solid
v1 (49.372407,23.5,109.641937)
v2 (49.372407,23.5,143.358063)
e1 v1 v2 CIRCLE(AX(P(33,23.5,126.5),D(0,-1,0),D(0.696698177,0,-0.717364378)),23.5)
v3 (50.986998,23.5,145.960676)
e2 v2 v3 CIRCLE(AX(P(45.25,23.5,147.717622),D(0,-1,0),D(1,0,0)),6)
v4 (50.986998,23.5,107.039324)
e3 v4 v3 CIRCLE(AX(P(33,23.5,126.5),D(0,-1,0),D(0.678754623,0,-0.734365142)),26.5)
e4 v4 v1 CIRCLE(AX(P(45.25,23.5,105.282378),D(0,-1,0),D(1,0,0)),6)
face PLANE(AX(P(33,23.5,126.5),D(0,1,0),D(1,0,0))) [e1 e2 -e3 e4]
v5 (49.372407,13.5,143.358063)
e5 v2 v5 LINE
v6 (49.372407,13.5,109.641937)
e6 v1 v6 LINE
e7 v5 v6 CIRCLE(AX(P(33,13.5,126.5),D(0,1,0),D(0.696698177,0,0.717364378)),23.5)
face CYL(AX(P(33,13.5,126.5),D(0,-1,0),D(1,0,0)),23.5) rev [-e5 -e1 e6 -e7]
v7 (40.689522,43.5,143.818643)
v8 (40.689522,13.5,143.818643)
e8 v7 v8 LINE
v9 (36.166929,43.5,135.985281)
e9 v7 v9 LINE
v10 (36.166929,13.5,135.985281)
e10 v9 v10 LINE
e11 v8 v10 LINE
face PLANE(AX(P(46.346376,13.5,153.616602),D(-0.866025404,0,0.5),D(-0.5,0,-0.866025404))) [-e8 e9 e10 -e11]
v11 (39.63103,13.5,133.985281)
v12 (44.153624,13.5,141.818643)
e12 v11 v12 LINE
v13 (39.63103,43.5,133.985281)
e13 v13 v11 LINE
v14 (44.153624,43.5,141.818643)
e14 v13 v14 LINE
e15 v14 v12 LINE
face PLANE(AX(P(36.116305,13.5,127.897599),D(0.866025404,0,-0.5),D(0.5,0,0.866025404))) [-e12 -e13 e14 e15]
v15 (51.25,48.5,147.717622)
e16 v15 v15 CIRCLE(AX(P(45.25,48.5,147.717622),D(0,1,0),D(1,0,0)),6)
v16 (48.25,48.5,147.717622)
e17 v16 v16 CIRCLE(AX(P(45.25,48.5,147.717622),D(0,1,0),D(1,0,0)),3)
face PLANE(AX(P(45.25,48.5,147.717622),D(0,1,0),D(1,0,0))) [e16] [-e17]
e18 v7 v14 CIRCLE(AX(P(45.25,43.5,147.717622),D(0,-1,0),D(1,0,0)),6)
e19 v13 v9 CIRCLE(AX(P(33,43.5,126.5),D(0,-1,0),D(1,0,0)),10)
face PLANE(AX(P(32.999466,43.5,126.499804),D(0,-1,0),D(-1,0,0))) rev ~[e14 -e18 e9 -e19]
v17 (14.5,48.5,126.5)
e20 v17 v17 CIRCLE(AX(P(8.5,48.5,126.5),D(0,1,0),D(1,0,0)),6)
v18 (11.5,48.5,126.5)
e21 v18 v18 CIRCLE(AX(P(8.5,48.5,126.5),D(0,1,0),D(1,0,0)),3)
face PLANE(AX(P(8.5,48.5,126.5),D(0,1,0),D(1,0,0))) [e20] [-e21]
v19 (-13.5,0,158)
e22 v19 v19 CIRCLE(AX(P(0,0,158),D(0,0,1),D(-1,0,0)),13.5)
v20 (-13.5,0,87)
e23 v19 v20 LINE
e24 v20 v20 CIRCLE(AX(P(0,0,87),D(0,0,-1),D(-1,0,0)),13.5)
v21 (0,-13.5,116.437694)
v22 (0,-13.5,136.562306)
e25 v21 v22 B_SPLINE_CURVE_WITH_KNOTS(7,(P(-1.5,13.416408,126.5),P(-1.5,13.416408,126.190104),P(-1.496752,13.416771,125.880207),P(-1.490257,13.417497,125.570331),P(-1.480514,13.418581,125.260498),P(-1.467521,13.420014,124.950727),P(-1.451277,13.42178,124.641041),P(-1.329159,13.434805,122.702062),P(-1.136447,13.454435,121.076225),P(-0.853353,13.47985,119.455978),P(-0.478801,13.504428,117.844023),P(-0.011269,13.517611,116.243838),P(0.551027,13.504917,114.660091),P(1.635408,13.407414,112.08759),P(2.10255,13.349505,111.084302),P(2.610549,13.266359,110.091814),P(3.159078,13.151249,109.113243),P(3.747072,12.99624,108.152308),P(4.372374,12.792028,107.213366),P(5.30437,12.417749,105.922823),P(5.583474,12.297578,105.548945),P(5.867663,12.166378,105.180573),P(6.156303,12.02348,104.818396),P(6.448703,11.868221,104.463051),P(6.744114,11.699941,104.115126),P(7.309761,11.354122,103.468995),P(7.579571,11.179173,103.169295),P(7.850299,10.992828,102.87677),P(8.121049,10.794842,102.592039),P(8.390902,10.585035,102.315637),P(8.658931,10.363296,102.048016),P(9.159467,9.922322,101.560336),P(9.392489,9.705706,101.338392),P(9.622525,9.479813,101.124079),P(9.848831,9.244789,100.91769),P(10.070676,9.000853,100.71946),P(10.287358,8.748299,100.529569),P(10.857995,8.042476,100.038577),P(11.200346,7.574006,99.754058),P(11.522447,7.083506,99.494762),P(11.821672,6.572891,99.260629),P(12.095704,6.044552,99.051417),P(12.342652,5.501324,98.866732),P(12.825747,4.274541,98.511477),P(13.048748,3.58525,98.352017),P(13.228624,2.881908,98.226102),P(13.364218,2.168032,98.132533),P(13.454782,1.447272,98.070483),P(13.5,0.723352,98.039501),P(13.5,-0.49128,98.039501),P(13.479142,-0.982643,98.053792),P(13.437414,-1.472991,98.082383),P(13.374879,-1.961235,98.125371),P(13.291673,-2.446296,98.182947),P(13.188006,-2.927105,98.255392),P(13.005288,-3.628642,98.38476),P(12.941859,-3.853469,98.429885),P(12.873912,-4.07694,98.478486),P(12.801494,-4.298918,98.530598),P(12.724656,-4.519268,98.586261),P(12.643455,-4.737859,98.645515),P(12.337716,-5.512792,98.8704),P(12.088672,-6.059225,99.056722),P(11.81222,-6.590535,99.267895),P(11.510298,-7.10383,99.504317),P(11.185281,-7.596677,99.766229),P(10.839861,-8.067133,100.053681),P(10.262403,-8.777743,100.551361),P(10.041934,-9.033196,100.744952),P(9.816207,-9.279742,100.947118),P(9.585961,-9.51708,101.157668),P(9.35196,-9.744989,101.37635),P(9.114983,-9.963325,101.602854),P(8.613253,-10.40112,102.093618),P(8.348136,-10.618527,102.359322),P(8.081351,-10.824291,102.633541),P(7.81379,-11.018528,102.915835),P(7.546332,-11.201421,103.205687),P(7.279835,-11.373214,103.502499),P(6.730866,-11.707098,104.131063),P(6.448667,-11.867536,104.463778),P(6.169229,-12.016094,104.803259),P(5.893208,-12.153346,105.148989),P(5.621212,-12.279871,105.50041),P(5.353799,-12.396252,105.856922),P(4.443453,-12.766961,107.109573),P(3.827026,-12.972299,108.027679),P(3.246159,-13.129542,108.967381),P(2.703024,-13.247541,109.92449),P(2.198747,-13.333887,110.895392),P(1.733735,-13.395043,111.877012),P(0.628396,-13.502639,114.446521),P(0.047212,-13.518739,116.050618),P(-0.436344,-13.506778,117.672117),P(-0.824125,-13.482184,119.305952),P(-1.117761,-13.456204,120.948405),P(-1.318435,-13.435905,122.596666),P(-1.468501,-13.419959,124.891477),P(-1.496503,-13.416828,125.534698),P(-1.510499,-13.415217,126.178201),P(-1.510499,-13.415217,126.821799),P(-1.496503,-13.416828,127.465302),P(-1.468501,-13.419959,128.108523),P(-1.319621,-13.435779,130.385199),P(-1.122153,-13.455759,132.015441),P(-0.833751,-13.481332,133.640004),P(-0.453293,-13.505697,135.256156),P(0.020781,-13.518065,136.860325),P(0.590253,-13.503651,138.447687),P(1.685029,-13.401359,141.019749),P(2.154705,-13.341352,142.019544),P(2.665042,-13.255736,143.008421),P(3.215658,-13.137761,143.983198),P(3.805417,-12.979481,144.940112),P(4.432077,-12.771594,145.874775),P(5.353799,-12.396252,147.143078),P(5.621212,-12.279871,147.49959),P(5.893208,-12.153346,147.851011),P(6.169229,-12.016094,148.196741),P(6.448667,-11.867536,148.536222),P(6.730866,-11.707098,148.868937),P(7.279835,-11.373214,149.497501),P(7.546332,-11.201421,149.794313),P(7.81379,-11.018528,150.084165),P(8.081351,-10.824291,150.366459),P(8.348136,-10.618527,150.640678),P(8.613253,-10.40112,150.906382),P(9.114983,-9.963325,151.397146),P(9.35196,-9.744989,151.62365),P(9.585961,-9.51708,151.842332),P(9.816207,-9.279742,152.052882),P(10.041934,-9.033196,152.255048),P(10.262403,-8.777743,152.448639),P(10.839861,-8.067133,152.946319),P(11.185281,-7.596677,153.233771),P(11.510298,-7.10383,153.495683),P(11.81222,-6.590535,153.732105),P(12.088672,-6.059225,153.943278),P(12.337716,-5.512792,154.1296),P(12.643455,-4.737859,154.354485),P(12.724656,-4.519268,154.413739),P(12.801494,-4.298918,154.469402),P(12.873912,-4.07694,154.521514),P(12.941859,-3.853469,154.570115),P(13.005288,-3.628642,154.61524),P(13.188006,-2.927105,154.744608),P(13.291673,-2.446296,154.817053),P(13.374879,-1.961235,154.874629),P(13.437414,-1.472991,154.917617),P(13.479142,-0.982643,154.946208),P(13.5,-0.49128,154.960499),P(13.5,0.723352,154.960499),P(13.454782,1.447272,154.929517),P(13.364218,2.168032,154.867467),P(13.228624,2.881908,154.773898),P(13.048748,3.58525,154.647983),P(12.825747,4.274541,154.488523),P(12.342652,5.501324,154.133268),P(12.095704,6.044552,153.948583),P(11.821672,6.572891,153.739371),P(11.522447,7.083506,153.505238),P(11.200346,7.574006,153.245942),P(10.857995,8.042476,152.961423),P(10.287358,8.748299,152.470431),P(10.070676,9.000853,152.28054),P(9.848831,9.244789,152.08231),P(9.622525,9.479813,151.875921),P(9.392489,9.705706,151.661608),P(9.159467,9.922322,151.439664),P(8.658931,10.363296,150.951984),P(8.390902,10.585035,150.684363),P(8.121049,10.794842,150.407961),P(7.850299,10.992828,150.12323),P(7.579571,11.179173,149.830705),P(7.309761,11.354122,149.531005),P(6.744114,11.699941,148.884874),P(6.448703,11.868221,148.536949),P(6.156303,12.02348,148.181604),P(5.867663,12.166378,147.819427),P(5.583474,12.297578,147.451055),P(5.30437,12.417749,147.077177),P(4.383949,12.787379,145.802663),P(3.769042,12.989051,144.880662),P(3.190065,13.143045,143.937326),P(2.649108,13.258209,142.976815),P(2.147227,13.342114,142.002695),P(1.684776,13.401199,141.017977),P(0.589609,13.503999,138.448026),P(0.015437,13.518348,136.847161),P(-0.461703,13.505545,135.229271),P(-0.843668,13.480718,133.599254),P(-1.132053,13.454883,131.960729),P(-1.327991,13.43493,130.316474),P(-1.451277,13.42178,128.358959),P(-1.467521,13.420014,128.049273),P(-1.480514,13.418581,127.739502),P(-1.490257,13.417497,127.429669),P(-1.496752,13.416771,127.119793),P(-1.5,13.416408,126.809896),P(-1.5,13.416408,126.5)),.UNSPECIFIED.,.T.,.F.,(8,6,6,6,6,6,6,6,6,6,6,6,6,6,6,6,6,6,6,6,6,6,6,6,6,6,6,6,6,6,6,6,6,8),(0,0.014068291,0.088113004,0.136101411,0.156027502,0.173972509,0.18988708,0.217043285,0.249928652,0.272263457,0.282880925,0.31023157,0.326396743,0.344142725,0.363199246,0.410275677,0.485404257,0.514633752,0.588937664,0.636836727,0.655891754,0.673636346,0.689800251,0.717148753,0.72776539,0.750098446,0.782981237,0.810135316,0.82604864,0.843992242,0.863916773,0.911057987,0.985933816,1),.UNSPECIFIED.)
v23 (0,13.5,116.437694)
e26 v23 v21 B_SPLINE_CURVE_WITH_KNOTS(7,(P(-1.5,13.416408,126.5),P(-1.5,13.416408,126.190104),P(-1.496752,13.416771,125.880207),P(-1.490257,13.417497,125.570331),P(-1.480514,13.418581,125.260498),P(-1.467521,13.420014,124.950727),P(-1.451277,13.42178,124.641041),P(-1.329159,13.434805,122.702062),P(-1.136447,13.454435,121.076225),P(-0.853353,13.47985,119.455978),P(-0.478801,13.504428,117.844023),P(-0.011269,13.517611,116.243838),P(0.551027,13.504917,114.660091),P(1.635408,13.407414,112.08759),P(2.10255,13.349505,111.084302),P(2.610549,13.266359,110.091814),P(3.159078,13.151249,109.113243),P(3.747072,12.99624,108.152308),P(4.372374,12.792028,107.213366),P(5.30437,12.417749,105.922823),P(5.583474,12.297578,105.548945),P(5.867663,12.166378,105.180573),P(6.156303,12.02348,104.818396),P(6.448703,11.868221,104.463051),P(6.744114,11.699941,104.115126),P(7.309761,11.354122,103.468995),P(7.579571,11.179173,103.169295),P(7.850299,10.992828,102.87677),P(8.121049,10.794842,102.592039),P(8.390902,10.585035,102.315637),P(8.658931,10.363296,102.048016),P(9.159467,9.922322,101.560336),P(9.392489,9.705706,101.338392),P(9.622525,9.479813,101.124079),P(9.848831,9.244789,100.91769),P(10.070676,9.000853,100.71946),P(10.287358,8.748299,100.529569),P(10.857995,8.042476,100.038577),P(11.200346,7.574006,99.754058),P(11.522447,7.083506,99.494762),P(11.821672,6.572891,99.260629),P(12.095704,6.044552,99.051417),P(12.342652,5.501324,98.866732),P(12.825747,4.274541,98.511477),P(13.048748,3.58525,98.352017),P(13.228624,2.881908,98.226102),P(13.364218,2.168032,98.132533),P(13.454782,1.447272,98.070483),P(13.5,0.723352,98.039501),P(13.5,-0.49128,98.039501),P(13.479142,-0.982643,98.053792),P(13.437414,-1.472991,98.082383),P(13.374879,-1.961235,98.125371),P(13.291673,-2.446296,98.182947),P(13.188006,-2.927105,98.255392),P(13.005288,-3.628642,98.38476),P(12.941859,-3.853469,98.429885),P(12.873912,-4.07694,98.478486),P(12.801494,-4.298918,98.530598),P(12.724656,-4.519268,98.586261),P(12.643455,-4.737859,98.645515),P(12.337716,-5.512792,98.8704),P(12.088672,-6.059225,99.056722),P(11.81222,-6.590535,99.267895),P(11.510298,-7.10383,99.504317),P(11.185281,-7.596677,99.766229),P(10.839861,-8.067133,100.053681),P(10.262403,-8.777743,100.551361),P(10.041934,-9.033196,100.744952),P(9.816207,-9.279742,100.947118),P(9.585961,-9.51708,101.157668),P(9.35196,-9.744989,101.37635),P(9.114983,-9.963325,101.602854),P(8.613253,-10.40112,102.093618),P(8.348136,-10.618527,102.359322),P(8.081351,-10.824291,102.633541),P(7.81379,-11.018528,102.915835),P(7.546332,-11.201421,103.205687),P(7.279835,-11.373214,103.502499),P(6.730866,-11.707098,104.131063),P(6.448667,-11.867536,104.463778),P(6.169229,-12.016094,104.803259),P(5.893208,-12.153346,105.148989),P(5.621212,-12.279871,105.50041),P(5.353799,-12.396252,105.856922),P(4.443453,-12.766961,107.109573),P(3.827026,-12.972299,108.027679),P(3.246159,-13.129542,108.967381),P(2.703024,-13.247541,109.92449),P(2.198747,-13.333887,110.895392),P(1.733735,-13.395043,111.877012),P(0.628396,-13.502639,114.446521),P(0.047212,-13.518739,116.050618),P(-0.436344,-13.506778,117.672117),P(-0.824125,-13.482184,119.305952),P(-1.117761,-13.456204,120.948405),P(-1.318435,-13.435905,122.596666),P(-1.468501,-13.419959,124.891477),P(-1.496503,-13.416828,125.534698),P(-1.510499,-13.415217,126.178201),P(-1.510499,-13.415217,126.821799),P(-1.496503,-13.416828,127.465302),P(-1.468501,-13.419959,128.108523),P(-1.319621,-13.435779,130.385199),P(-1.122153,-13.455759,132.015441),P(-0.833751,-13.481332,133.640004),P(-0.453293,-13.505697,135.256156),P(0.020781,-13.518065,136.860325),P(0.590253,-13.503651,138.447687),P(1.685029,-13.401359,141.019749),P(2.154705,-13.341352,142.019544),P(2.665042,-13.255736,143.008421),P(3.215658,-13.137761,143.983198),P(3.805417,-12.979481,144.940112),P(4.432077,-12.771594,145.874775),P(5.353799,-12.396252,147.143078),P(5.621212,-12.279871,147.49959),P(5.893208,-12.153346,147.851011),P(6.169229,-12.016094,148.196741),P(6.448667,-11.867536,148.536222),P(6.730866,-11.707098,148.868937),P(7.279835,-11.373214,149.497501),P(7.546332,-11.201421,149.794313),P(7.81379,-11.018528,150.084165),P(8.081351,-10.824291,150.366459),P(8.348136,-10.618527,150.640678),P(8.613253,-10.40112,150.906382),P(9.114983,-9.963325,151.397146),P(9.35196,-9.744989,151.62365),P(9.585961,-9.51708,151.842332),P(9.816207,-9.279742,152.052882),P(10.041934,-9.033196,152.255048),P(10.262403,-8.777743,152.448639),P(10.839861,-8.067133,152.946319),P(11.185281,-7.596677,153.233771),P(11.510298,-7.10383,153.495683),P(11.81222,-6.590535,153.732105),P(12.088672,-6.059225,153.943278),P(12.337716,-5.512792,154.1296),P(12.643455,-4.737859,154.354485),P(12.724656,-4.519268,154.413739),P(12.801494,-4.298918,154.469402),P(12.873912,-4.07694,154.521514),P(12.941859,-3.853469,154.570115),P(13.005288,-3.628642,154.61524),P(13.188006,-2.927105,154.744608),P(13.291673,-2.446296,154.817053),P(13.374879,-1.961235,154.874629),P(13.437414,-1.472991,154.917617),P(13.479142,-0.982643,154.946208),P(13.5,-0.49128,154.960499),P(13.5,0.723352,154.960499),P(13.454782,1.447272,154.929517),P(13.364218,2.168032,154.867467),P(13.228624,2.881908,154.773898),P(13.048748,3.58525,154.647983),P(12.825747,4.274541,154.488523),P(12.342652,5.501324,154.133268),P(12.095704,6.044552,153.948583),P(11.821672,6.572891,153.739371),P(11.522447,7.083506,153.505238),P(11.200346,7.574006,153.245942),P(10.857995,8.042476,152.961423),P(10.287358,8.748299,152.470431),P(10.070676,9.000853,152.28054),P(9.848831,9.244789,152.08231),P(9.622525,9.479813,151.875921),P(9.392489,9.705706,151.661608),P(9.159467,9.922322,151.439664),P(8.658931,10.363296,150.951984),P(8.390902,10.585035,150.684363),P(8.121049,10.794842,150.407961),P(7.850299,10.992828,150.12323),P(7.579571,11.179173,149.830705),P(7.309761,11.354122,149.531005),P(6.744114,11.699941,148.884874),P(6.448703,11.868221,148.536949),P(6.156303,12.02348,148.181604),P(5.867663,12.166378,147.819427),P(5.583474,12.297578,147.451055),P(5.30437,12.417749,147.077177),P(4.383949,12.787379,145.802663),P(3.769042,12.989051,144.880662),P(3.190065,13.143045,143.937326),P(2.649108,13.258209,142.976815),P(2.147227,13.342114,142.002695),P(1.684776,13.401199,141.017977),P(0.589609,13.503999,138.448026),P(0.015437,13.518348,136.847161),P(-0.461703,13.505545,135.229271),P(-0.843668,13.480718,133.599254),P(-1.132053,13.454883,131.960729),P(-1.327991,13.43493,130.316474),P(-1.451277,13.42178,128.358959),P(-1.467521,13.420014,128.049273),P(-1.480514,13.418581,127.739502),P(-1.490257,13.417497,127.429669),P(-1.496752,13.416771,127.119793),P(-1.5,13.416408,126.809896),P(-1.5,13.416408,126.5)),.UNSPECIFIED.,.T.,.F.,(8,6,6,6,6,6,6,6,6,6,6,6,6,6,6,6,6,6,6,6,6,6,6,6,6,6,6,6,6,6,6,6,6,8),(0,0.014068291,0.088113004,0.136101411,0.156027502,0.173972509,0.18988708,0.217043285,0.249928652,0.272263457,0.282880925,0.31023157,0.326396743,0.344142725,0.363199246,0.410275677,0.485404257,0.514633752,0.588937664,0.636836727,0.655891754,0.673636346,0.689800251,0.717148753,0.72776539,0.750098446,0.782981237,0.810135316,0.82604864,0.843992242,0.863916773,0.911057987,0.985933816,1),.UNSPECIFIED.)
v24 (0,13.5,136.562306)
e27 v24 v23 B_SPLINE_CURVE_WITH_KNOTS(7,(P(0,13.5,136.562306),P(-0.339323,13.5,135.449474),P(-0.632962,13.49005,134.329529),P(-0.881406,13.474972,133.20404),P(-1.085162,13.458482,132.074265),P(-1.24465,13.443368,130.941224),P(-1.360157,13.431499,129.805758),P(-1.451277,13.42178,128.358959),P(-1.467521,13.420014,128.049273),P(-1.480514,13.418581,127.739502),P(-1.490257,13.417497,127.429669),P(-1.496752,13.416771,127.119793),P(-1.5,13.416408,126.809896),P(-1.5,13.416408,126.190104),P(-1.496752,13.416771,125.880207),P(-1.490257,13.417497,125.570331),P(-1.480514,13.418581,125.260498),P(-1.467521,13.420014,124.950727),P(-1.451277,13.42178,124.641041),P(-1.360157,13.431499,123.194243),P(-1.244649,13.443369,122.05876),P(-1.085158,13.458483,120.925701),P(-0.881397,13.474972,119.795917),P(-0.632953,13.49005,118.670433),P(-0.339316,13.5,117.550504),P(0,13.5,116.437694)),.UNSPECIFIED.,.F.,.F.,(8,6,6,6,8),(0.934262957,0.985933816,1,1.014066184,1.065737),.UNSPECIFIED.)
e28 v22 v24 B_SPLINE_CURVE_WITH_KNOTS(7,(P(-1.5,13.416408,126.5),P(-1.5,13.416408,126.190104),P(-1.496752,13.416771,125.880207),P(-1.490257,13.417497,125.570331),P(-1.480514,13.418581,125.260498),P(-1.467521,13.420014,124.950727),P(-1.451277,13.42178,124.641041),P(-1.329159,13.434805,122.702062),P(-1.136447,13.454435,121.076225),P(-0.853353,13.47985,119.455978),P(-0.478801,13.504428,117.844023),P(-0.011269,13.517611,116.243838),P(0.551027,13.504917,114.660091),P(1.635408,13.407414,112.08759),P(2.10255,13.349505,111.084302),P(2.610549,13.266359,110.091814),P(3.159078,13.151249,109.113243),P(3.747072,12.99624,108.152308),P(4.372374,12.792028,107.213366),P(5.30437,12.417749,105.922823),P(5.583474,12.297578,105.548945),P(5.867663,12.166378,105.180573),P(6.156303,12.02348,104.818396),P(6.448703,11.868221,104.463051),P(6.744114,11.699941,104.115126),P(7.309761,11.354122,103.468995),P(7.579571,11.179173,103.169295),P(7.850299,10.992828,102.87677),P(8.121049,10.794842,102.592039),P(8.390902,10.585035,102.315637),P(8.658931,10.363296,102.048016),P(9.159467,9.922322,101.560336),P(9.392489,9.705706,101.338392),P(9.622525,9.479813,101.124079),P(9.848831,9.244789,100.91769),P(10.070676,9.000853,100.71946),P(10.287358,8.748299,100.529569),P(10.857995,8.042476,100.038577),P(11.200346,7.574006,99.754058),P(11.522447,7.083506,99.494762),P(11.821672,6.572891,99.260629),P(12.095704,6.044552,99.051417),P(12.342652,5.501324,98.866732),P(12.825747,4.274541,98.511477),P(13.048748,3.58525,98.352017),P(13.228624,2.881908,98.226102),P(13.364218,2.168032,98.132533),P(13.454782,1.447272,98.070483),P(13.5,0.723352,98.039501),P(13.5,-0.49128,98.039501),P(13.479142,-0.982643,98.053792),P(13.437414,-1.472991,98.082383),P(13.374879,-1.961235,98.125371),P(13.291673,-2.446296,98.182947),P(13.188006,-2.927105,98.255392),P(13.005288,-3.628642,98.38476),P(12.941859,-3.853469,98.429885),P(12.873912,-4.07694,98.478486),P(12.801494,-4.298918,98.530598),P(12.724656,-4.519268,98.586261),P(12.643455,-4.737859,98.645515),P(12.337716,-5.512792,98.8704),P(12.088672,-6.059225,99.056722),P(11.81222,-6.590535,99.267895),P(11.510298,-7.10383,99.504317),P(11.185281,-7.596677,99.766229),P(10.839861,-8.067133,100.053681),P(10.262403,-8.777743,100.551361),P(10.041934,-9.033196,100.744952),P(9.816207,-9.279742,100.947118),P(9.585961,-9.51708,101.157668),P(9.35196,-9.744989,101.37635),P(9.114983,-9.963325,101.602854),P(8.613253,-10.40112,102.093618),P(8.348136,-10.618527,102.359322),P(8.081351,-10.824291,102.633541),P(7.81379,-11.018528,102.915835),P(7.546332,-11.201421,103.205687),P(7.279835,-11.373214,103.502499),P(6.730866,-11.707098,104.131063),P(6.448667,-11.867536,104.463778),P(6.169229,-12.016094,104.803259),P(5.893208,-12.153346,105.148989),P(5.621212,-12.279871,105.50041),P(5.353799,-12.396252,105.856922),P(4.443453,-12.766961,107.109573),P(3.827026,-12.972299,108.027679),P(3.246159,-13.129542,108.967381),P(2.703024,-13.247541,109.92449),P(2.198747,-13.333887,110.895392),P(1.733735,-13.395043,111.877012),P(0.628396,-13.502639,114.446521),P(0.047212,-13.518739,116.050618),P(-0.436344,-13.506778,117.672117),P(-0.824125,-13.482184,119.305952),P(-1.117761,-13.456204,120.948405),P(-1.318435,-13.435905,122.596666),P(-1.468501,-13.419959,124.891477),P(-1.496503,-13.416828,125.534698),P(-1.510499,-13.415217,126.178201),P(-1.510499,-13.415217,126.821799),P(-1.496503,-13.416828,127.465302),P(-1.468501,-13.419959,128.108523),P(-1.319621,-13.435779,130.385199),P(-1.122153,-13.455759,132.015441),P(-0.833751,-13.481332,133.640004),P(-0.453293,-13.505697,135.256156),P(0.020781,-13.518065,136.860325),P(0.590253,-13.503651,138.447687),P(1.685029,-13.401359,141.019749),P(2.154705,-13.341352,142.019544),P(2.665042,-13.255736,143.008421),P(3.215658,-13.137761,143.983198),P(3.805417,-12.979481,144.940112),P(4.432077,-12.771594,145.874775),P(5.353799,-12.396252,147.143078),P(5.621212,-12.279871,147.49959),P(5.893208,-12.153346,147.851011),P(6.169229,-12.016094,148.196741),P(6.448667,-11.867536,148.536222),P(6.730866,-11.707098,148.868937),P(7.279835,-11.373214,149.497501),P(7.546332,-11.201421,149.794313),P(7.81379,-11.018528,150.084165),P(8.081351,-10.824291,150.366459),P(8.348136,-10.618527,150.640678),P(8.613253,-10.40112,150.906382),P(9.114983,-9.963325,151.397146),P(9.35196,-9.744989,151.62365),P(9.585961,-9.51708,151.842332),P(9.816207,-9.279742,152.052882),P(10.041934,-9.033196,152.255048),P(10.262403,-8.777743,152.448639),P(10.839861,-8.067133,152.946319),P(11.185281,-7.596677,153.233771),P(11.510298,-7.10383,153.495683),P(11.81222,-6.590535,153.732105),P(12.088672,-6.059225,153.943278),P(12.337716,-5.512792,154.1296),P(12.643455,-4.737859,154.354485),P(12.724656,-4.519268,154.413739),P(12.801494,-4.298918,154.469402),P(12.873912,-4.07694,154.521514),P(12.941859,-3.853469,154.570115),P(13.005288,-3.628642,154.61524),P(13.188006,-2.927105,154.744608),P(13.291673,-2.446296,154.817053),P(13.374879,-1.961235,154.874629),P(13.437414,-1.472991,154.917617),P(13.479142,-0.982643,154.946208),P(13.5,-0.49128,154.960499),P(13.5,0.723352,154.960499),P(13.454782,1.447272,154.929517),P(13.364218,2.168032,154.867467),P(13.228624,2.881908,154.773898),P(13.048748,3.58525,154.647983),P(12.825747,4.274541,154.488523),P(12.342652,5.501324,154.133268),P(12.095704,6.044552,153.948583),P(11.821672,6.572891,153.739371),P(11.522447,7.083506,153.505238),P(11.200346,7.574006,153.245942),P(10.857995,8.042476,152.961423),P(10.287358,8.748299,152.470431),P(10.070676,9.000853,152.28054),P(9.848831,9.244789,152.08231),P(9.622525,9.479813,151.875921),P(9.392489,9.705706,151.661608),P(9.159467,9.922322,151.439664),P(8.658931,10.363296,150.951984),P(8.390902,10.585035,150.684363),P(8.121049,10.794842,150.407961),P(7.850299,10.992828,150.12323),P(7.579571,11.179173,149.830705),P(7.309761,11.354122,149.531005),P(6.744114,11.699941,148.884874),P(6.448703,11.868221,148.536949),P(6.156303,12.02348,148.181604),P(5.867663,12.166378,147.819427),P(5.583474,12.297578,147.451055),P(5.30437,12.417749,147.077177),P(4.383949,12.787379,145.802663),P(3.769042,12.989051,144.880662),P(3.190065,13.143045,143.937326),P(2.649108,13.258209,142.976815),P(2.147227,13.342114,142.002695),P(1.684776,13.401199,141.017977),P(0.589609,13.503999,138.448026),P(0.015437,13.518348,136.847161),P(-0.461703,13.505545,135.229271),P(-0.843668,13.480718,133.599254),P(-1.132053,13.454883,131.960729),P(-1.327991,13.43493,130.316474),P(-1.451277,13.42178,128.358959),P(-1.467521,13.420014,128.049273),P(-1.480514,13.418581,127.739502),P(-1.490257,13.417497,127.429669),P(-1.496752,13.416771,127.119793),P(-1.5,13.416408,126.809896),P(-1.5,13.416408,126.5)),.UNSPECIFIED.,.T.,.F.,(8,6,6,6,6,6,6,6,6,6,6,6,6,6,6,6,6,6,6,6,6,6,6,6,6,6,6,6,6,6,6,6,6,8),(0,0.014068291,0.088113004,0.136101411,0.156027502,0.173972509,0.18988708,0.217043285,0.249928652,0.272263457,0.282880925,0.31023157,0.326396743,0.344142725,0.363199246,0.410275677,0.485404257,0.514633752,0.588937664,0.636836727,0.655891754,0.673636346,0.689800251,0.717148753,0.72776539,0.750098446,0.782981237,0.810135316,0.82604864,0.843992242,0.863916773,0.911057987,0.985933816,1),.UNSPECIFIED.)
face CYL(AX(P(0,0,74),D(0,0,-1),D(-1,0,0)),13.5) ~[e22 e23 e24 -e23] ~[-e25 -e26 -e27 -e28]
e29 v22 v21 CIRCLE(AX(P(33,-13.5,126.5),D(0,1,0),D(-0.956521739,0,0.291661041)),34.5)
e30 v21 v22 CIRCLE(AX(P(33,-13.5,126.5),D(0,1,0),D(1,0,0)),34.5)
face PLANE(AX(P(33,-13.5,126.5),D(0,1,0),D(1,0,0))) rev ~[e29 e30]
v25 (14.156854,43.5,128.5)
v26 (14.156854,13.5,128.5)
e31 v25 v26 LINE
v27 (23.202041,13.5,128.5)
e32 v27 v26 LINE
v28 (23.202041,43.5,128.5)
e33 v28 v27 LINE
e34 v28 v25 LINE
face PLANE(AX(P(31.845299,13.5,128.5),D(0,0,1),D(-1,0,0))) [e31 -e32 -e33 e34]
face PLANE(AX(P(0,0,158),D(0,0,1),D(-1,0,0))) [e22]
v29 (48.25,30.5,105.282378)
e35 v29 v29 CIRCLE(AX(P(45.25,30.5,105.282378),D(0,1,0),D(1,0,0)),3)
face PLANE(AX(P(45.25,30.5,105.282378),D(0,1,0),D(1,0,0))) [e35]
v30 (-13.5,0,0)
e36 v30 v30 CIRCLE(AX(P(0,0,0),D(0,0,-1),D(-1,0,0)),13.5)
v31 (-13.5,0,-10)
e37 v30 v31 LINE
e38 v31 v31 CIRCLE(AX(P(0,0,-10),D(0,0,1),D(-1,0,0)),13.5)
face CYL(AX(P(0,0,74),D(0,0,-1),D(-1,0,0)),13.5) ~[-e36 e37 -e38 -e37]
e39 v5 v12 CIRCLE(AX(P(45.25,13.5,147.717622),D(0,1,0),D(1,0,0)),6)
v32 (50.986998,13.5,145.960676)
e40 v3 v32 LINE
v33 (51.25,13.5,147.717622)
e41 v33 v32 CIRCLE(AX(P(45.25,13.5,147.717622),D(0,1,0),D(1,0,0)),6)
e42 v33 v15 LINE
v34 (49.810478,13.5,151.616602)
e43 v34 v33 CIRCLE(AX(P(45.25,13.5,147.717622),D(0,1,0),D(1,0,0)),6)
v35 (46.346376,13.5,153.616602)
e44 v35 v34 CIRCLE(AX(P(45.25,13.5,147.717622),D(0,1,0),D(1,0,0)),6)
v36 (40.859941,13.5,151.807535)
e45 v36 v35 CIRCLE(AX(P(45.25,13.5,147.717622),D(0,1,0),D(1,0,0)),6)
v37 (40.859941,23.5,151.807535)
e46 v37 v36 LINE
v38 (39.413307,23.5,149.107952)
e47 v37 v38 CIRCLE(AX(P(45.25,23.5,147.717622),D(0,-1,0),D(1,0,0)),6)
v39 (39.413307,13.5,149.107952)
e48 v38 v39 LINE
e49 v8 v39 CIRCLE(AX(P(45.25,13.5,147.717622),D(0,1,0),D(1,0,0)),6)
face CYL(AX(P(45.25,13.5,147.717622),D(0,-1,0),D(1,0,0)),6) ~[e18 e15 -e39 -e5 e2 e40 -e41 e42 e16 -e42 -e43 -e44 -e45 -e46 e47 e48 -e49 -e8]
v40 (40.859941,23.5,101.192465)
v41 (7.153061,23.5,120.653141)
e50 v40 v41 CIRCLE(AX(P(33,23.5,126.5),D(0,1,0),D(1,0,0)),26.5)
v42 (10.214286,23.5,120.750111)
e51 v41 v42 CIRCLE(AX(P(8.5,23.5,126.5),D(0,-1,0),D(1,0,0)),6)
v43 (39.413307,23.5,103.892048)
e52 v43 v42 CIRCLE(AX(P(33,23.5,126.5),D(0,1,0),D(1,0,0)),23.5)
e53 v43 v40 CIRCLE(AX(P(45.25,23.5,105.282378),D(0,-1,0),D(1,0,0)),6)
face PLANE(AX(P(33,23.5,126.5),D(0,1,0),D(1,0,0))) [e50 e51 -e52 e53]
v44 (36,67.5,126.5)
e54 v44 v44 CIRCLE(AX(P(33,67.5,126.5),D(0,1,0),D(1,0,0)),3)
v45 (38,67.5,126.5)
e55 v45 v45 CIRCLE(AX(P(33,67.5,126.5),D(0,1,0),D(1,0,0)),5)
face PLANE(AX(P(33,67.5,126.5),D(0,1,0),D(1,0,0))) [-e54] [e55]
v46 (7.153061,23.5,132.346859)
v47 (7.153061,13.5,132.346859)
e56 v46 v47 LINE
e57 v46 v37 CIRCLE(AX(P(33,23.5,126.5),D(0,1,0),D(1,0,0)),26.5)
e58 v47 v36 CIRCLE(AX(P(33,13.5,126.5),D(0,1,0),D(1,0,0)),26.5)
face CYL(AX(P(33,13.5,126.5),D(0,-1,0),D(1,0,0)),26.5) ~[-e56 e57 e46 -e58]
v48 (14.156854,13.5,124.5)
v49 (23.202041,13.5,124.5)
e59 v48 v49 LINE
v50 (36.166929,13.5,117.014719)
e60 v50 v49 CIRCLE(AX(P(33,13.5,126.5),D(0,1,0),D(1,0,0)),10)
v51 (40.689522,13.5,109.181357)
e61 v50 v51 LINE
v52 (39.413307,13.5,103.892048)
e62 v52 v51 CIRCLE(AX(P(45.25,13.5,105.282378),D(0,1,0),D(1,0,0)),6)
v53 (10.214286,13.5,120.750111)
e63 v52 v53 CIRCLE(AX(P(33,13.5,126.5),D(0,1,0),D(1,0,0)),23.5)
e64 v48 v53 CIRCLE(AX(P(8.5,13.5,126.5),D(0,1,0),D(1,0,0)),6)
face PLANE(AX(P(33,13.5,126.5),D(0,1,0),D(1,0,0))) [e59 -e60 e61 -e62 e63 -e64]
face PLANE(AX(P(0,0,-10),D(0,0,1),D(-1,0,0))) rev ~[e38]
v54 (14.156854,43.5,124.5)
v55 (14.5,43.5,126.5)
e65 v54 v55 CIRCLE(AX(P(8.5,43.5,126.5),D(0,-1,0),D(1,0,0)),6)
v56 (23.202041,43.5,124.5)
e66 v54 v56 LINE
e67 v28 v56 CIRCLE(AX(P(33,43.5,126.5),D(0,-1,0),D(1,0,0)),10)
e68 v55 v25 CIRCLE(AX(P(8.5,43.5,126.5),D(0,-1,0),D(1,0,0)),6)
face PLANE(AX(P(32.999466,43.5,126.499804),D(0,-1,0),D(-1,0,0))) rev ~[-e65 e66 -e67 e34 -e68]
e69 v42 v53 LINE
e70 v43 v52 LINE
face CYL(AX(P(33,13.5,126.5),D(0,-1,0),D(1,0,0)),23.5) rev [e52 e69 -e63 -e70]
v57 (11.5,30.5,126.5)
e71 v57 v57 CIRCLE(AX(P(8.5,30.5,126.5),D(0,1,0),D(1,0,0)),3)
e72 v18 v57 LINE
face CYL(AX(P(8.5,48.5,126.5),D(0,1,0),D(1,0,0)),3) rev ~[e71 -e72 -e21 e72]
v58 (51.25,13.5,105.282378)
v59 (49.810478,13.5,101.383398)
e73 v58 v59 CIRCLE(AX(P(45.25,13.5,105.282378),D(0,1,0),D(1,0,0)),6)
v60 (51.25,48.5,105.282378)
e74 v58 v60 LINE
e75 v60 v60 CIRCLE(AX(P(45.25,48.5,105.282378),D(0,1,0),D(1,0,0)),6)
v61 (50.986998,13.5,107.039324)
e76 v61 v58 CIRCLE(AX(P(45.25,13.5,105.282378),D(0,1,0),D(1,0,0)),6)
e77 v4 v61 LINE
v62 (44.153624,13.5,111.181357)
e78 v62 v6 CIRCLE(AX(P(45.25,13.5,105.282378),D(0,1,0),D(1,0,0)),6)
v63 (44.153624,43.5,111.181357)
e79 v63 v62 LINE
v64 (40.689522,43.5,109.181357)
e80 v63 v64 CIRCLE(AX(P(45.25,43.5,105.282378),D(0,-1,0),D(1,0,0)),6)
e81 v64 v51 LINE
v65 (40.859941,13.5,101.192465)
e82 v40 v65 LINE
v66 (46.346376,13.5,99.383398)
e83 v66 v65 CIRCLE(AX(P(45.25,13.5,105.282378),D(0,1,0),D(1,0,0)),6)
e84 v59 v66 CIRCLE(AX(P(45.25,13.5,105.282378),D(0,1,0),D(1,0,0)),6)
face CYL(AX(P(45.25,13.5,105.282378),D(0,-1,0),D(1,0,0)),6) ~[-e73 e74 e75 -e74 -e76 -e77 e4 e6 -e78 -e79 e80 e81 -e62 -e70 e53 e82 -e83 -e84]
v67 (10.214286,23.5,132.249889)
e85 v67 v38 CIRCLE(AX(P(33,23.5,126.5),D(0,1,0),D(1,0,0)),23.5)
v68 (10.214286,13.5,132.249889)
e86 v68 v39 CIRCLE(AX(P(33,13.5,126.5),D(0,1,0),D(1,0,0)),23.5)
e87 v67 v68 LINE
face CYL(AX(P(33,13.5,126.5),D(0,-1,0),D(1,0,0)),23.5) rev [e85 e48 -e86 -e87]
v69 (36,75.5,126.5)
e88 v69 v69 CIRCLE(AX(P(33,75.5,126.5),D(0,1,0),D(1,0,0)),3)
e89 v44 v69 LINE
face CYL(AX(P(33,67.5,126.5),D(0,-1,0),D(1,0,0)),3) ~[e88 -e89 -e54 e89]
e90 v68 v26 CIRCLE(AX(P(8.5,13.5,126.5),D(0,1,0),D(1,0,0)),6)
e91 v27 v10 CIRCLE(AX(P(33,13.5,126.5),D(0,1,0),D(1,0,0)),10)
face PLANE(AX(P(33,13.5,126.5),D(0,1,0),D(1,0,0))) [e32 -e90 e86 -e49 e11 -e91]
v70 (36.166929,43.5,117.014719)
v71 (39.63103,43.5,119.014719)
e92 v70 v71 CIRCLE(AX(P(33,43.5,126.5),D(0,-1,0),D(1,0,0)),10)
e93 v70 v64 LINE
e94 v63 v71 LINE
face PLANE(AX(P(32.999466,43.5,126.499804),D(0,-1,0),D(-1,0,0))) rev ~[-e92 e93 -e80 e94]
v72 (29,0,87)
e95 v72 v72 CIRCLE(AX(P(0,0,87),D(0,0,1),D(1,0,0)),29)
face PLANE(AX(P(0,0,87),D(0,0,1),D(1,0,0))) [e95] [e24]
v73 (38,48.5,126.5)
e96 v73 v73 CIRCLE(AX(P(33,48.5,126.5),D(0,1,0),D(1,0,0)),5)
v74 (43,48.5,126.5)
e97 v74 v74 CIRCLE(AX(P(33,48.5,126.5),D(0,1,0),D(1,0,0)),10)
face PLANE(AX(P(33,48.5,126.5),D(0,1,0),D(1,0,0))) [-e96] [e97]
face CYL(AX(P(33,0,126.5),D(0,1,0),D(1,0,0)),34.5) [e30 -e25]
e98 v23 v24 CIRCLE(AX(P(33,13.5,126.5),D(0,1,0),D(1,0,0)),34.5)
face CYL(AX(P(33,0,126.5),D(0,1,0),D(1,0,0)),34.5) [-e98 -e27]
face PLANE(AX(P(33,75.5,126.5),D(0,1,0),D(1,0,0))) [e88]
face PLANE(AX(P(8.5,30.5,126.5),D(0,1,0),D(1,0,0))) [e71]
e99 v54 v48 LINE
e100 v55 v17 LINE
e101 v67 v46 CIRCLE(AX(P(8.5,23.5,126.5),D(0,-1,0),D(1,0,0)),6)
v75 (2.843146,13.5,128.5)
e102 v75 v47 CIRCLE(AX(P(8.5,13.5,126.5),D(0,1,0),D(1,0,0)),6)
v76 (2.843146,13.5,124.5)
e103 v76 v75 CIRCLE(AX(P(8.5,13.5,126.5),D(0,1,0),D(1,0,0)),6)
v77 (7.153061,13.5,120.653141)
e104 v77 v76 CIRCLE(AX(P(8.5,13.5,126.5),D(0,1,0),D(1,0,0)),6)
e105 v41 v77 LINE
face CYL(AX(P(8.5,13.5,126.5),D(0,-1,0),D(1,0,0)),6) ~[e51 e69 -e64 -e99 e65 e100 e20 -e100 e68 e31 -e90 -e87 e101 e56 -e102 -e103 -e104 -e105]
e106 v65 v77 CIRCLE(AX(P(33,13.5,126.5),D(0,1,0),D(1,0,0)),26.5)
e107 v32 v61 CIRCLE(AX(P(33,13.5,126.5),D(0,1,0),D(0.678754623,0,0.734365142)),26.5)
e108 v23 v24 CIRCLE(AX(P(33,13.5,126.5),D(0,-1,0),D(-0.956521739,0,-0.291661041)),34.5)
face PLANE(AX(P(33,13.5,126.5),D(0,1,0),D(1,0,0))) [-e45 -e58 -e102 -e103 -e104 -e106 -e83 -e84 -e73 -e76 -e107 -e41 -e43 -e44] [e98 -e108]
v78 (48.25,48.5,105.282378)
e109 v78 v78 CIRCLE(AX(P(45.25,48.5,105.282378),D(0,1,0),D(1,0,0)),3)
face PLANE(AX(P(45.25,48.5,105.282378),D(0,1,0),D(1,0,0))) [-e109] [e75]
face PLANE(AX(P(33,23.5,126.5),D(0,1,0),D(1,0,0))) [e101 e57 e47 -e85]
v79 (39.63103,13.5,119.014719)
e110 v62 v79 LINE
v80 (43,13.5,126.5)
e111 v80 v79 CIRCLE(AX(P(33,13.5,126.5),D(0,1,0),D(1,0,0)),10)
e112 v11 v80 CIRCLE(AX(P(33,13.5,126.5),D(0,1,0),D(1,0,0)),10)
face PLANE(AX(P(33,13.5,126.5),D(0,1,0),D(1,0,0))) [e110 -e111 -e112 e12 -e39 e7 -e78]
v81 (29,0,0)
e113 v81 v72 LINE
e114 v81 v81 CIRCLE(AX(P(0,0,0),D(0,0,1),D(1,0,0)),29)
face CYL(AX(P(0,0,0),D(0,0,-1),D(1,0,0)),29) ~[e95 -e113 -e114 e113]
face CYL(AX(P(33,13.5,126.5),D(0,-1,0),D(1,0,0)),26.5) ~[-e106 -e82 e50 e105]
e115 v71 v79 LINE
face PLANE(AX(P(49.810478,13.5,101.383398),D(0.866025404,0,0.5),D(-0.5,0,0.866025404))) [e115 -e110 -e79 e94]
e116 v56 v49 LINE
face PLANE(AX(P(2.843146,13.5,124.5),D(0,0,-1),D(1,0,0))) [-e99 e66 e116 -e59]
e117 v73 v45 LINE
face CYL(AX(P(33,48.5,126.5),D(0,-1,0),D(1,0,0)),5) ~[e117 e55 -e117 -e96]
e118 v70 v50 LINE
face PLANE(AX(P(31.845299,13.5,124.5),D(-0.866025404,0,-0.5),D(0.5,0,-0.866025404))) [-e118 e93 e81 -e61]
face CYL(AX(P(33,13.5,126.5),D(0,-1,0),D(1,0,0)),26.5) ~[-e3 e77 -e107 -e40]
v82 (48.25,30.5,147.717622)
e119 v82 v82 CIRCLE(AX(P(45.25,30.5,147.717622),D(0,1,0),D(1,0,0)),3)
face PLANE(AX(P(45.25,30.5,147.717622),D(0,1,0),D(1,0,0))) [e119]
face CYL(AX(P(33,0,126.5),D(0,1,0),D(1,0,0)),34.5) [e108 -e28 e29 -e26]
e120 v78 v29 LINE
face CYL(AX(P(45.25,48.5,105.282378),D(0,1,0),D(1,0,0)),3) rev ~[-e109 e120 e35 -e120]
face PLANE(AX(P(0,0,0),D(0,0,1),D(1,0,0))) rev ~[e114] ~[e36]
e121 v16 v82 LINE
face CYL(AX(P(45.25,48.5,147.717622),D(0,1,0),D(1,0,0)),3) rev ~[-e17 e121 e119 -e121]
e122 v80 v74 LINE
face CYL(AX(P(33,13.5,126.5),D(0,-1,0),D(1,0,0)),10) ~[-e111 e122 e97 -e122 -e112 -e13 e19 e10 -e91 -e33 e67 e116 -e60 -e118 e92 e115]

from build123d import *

# Parameters (mm, degrees)
SKETCH1_R           = 29
BOSS_EXTRUDE1_DEPTH = 87
SKETCH3_W           = 13.5
SKETCH3_H           = 168
SKETCH4_R           = 34.5
BOSS_EXTRUDE2_DEPTH = 13.5
SKETCH5_R           = 6
SKETCH5_R_2         = 10
BOSS_EXTRUDE3_DEPTH = 35
BOSS_EXTRUDE4_DEPTH = 30
SKETCH7_R           = 26.5
SKETCH7_R_2         = 23.5
BOSS_EXTRUDE5_DEPTH = 10
SKETCH8_R           = 3
CUT_EXTRUDE1_DEPTH  = 18
SKETCH9_R           = 5
BOSS_EXTRUDE6_DEPTH = 19
SKETCH10_R          = 3
BOSS_EXTRUDE7_DEPTH = 8


with BuildPart() as part:
    # Sketch1 → Boss-Extrude1 (new body)
    with BuildSketch(Plane.XY):
        Circle(SKETCH1_R)
    extrude(amount=BOSS_EXTRUDE1_DEPTH)

    # Sketch3 → Revolve1 (revolve)
    with BuildSketch(Plane(origin=(0, 0, 0), x_dir=(1, 0, 0), z_dir=(0, 1, 0))):
        with Locations((-6.75, -74)):
            Rectangle(SKETCH3_W, SKETCH3_H)
    revolve(axis=Axis((0, 0, 0), (0, 0, 1)))

    # Sketch4 → Boss-Extrude2 (add, symmetric)
    with BuildSketch(Plane(origin=(0, 0, 0), x_dir=(1, 0, 0), z_dir=(0, 1, 0))):
        with Locations((33, -126.5)):
            Circle(SKETCH4_R)
    extrude(amount=BOSS_EXTRUDE2_DEPTH, both=True)

    # Sketch5 → Boss-Extrude3 (add)
    with BuildSketch(Plane(origin=(0, 13.5, 0), x_dir=(1, 0, 0), z_dir=(0, 1, 0))):
        with Locations((8.5, -126.5)):
            Circle(SKETCH5_R)
        with Locations((33, -126.5)):
            Circle(SKETCH5_R_2)
        with Locations((45.25, -105.282377607)):
            Circle(SKETCH5_R)
        with Locations((45.25, -147.717622393)):
            Circle(SKETCH5_R)
    extrude(amount=BOSS_EXTRUDE3_DEPTH)

    # Sketch6 → Boss-Extrude4 (add)
    with BuildSketch(Plane(origin=(0, 13.5, 0), x_dir=(1, 0, 0), z_dir=(0, 1, 0))):
        Polygon((31.845299462, -128.5), (2.843145751, -128.5), (2.843145751, -124.5), (31.845299462, -124.5), (46.346376317, -99.383398122), (49.810477932, -101.383398122), (36.0121545, -125.282795366), (36.116305102, -127.897598768), (49.810477932, -151.616601878), (46.346376317, -153.616601878), align=None)
    extrude(amount=BOSS_EXTRUDE4_DEPTH)

    # Sketch7 → Boss-Extrude5 (add)
    with BuildSketch(Plane(origin=(0, 13.5, 0), x_dir=(1, 0, 0), z_dir=(0, 1, 0))):
        with Locations((33, -126.5)):
            Circle(SKETCH7_R)
        with Locations((33, -126.5)):
            Circle(SKETCH7_R_2, mode=Mode.SUBTRACT)
    extrude(amount=BOSS_EXTRUDE5_DEPTH)

    # Sketch8 → Cut-Extrude1 (cut)
    with BuildSketch(Plane(origin=(0, 48.5, 0), x_dir=(1, 0, 0), z_dir=(0, 1, 0))):
        with Locations((8.5, -126.5)):
            Circle(SKETCH8_R)
        with Locations((45.25, -105.282377607)):
            Circle(SKETCH8_R)
        with Locations((45.25, -147.717622393)):
            Circle(SKETCH8_R)
    extrude(amount=-CUT_EXTRUDE1_DEPTH, mode=Mode.SUBTRACT)

    # Sketch9 → Boss-Extrude6 (add)
    with BuildSketch(Plane(origin=(0, 48.5, 0), x_dir=(1, 0, 0), z_dir=(0, 1, 0))):
        with Locations((33, -126.5)):
            Circle(SKETCH9_R)
    extrude(amount=BOSS_EXTRUDE6_DEPTH)

    # Sketch10 → Boss-Extrude7 (add)
    with BuildSketch(Plane(origin=(0, 67.5, 0), x_dir=(1, 0, 0), z_dir=(0, 1, 0))):
        with Locations((33, -126.5)):
            Circle(SKETCH10_R)
    extrude(amount=BOSS_EXTRUDE7_DEPTH)


solid = part.part
